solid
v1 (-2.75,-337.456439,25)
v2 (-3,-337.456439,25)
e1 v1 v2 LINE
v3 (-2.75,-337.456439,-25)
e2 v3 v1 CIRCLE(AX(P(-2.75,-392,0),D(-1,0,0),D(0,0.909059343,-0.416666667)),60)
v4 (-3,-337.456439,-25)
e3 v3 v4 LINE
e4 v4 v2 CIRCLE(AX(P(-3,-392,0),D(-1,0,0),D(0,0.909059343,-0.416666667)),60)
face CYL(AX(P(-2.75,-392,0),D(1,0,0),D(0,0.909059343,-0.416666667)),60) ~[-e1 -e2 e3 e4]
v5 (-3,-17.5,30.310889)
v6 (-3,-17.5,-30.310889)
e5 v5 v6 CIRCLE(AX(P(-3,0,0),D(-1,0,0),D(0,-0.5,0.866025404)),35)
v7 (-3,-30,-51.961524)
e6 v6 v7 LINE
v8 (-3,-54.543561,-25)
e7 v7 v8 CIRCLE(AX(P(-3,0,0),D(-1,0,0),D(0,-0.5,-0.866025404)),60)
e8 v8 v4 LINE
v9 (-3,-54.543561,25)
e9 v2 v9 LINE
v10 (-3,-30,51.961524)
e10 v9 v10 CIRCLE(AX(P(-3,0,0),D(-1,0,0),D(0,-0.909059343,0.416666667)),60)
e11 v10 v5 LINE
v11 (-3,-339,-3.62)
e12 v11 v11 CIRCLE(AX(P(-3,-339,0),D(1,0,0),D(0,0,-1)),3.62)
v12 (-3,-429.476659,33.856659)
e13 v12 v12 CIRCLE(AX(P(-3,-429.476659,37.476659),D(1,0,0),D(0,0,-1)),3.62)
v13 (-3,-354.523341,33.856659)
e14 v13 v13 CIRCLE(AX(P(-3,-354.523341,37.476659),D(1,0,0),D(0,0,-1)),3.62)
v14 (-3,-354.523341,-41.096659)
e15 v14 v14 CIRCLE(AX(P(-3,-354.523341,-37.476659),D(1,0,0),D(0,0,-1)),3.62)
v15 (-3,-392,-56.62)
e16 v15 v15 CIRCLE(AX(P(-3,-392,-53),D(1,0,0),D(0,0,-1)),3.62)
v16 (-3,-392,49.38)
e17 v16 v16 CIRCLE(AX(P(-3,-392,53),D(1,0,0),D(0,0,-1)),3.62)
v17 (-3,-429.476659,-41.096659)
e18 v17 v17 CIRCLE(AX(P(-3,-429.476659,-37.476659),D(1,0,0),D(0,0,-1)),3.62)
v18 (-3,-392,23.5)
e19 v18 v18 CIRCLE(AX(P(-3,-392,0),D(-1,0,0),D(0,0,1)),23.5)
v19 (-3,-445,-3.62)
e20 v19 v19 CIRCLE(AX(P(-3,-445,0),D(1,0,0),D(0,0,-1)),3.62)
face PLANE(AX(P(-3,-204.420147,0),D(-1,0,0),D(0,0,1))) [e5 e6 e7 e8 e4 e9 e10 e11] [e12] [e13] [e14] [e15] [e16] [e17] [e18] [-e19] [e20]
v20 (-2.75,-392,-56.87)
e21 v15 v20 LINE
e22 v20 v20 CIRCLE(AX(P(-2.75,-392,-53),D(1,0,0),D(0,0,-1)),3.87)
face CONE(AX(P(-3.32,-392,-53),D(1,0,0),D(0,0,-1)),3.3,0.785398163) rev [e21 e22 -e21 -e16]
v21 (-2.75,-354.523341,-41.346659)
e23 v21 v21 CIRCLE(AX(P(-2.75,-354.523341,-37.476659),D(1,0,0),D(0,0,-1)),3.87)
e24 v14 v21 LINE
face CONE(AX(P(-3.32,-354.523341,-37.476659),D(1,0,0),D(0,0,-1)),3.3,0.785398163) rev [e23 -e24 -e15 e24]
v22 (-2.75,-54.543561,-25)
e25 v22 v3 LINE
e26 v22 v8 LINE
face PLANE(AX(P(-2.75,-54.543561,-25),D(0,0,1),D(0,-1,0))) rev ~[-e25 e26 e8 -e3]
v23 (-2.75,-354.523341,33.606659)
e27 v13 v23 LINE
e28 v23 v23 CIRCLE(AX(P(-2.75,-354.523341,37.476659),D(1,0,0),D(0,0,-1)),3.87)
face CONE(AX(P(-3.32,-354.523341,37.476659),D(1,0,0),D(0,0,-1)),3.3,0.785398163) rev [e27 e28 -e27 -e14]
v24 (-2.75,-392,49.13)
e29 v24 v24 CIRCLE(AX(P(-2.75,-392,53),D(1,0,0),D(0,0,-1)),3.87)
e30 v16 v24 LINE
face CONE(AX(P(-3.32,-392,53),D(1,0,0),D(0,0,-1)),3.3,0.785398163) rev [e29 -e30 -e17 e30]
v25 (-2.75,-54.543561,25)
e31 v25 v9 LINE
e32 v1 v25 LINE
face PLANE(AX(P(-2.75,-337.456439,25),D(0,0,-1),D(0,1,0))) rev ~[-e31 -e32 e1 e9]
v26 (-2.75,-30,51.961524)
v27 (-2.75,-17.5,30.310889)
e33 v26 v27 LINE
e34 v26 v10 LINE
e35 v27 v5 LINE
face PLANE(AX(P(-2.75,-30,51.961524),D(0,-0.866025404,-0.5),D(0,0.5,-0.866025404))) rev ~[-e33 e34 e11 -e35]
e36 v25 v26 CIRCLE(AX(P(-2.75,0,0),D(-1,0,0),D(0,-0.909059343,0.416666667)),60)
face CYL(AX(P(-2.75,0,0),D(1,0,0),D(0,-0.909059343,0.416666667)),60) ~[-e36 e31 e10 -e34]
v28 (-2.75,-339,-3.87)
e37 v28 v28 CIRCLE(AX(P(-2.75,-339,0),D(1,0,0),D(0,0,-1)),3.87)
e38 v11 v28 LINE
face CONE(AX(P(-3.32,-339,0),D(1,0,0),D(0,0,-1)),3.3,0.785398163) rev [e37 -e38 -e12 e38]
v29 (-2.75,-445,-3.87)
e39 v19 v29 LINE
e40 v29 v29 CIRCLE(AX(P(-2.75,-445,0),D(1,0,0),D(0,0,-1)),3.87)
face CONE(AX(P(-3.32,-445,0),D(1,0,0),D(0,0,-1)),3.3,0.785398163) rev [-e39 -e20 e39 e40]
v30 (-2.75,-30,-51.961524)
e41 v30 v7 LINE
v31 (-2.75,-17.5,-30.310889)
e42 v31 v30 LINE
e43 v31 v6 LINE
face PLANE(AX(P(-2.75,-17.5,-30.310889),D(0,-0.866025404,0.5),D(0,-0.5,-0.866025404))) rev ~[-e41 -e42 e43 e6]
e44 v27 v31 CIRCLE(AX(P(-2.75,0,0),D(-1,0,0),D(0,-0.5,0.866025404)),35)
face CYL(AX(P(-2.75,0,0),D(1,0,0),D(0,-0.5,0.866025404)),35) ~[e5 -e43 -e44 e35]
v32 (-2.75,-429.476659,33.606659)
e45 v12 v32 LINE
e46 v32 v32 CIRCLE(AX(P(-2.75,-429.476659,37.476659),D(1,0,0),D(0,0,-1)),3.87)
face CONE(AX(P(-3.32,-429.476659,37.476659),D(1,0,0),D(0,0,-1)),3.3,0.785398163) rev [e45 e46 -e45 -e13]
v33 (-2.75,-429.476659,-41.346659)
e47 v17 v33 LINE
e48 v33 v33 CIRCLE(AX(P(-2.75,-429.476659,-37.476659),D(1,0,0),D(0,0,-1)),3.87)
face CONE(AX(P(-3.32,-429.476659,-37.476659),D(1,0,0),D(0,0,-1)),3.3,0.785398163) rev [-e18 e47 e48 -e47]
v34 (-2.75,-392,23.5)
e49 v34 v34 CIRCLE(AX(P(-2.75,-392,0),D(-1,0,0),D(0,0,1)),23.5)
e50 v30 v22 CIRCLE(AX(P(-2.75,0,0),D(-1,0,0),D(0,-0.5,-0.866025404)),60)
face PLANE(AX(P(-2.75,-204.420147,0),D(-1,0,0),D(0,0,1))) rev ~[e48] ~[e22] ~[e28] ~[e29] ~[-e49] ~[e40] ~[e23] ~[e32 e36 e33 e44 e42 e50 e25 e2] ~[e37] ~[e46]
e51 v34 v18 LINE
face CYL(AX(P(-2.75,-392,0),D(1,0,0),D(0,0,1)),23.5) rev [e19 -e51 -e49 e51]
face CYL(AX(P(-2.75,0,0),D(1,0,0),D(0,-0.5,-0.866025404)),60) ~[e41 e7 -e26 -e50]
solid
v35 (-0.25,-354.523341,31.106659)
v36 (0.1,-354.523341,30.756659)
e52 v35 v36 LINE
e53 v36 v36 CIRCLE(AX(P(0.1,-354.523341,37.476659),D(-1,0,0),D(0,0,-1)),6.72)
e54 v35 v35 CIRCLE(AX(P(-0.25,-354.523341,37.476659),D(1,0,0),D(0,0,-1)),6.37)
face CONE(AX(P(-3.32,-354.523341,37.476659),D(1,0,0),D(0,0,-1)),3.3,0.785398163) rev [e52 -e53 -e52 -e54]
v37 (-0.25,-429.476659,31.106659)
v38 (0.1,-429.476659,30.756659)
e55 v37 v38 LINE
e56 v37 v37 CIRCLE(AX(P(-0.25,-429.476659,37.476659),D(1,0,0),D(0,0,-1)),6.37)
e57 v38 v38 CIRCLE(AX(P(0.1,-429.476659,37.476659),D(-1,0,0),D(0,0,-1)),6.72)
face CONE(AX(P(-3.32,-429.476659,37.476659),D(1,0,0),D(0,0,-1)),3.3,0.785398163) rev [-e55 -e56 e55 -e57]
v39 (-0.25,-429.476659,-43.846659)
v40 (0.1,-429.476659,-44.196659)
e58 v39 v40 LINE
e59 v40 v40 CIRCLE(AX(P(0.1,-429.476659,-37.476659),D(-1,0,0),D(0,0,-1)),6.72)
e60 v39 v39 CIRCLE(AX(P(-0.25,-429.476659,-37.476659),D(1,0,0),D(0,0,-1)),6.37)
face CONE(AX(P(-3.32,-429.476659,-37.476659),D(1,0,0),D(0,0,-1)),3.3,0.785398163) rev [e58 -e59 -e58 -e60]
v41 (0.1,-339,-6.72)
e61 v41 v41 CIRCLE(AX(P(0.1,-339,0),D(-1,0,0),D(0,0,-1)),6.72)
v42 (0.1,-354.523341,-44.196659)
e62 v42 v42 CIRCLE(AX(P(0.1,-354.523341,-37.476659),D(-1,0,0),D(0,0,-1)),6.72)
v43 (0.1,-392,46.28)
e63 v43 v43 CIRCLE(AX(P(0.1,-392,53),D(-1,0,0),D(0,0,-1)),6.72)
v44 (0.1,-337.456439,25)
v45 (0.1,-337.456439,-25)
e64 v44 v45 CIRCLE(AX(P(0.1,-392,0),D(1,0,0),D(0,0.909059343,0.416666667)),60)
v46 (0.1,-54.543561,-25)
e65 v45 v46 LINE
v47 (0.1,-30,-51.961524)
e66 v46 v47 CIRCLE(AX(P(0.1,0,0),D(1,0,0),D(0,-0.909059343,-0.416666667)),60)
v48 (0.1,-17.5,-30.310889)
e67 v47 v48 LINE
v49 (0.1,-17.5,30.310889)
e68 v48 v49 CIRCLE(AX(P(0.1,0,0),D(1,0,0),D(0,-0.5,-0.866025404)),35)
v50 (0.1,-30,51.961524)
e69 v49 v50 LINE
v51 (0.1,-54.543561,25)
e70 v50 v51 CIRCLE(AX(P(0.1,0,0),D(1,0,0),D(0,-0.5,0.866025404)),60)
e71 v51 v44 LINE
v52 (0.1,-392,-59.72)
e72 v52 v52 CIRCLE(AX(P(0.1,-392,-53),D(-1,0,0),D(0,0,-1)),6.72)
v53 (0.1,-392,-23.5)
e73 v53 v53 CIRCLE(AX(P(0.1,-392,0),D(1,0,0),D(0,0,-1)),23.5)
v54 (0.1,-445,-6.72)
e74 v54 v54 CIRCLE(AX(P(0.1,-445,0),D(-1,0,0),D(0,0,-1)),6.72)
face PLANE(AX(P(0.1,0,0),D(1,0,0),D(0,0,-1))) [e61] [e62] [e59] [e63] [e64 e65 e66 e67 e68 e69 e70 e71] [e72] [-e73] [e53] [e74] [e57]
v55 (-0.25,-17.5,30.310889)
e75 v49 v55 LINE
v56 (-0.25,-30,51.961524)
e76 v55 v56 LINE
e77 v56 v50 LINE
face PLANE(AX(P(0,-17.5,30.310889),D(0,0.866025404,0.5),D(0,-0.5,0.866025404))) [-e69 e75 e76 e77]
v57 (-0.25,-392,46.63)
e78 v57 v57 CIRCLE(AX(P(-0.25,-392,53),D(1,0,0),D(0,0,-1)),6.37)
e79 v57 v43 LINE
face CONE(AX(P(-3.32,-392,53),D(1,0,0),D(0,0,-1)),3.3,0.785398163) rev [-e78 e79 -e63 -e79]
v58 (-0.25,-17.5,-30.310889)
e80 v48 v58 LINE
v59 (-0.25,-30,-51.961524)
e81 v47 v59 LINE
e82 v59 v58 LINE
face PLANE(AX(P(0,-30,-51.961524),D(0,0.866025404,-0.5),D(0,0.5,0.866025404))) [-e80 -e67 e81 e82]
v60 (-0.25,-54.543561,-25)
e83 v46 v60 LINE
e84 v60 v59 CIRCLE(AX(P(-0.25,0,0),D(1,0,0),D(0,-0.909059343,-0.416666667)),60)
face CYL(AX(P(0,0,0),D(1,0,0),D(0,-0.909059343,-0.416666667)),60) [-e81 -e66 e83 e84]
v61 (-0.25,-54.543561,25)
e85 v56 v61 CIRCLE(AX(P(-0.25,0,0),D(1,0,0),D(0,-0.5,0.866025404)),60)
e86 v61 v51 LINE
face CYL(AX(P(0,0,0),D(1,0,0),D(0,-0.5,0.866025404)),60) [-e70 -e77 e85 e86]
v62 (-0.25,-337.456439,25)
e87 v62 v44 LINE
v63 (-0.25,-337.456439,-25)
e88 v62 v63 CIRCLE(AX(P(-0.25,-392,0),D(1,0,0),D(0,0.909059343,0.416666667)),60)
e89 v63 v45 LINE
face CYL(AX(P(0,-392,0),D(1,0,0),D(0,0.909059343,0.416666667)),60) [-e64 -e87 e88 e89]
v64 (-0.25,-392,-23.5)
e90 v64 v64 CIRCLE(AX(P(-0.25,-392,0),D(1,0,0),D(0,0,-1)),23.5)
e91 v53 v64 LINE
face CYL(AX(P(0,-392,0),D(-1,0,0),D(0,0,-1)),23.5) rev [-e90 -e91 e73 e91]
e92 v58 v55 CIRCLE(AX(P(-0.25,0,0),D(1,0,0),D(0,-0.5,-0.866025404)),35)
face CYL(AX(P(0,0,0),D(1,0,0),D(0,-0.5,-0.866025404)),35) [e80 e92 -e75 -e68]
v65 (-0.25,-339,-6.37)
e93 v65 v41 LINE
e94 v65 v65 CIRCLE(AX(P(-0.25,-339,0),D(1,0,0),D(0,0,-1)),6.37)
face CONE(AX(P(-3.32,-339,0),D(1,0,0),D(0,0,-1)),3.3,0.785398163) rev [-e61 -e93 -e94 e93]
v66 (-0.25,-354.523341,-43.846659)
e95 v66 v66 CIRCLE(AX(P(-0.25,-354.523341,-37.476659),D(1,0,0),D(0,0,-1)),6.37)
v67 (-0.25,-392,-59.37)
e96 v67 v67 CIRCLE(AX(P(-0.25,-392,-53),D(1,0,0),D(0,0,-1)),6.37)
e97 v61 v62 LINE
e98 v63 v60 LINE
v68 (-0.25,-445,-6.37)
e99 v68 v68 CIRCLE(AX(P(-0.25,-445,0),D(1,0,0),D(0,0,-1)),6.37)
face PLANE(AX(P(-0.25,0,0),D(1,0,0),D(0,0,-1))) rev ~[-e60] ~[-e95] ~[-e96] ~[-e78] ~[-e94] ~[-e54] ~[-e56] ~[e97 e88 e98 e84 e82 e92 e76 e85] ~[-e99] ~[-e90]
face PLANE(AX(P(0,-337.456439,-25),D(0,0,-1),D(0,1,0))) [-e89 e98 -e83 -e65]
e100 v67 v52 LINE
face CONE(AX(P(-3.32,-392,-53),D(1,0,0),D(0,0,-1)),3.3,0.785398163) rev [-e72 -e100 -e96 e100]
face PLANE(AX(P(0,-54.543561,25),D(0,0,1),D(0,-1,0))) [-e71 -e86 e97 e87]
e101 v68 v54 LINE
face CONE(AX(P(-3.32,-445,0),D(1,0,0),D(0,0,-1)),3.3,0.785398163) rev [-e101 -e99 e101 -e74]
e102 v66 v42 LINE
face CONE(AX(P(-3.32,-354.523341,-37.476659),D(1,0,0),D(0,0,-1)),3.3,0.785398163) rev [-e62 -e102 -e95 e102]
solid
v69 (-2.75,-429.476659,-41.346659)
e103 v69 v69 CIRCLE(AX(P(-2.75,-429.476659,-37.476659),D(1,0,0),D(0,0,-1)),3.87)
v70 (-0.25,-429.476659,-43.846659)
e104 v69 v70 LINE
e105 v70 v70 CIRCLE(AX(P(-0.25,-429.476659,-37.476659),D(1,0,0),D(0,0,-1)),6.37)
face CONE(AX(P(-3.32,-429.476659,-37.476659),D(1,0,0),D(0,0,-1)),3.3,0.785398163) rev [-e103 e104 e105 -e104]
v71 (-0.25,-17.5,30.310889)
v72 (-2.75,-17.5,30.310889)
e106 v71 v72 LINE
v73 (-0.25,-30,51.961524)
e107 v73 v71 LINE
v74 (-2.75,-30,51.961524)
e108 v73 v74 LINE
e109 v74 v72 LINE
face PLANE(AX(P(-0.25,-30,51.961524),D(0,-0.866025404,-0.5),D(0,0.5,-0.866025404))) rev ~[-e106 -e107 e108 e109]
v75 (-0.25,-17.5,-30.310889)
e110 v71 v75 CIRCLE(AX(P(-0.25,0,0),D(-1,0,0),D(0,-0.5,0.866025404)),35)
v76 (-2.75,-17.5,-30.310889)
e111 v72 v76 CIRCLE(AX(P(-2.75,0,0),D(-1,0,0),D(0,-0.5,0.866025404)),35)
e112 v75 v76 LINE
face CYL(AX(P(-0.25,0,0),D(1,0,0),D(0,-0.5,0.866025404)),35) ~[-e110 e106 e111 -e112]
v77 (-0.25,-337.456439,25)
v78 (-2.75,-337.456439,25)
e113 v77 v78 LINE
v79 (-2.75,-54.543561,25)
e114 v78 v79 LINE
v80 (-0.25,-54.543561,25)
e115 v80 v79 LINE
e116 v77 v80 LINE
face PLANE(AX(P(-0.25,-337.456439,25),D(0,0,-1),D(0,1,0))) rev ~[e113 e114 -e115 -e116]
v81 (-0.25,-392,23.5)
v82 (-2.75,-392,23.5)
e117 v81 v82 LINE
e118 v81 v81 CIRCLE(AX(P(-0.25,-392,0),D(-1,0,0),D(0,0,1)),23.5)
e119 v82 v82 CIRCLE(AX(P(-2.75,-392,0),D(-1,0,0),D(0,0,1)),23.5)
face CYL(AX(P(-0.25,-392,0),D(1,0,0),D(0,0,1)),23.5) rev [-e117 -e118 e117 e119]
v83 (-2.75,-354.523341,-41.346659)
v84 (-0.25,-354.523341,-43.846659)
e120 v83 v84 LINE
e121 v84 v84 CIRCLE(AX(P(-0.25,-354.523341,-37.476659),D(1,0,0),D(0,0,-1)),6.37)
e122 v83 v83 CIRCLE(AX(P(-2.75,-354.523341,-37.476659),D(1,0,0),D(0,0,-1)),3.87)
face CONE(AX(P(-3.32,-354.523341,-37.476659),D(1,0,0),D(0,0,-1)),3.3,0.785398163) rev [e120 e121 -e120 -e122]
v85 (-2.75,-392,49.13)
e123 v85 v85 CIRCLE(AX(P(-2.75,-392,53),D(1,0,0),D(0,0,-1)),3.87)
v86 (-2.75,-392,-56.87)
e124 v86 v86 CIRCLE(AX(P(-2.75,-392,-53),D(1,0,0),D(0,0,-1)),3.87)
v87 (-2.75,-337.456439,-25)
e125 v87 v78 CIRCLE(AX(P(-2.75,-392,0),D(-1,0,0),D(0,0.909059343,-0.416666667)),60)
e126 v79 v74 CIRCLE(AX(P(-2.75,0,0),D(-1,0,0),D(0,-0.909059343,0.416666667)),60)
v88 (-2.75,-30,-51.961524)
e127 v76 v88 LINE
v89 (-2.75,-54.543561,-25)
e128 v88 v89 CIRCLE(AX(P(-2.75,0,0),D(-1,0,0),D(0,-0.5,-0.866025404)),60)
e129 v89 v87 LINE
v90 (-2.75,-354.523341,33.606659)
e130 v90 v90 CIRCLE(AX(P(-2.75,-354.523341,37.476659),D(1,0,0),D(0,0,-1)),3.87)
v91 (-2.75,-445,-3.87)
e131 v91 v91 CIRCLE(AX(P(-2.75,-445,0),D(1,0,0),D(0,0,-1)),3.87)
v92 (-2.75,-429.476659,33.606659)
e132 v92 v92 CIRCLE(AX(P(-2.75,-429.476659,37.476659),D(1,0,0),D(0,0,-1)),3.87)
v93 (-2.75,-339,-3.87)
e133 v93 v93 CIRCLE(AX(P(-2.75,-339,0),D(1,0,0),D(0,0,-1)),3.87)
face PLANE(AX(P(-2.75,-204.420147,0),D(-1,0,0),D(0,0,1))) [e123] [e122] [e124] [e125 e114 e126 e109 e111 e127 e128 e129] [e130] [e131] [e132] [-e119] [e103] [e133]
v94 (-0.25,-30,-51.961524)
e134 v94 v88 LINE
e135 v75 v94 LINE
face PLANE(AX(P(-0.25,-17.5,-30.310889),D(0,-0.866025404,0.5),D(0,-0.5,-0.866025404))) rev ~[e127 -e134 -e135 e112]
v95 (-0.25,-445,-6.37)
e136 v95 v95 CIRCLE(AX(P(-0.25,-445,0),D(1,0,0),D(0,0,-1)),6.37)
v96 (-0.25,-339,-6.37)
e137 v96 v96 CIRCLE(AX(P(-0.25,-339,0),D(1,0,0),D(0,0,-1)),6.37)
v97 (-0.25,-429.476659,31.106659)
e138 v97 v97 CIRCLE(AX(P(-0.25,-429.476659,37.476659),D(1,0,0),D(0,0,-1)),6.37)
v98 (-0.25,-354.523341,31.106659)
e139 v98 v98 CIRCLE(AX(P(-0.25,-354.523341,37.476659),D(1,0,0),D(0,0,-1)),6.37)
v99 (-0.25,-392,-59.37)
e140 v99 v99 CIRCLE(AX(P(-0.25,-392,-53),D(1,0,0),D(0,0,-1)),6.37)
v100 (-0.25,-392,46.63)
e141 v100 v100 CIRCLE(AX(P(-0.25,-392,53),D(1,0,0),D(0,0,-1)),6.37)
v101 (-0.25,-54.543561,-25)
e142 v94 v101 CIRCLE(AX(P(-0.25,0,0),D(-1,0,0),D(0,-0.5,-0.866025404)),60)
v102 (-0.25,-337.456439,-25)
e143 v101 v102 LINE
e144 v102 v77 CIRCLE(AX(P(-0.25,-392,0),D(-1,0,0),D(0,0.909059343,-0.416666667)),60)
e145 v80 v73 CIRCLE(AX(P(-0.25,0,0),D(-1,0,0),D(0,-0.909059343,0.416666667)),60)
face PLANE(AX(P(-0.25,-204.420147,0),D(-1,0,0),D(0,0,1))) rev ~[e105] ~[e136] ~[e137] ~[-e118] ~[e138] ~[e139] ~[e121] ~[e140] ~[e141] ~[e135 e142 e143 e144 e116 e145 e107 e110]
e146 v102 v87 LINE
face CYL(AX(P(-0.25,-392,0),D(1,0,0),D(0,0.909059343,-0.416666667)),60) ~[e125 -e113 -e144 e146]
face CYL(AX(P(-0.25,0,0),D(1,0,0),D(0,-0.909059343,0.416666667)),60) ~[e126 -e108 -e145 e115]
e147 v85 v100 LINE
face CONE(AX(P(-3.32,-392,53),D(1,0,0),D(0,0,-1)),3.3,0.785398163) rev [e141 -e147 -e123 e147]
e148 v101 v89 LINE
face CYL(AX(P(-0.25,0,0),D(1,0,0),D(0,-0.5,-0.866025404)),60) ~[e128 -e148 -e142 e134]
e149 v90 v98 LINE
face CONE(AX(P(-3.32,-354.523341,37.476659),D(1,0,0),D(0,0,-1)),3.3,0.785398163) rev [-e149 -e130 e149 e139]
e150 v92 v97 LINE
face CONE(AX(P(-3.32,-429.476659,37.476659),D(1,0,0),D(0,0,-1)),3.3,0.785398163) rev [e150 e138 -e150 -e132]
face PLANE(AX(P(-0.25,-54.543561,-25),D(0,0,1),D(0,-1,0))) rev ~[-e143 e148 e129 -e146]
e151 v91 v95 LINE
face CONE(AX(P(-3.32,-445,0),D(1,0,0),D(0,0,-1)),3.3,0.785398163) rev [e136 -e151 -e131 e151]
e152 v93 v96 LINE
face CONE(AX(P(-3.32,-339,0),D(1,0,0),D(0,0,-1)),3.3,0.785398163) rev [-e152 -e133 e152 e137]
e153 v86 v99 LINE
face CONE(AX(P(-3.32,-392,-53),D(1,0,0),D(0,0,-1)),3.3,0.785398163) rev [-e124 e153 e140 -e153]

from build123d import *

# Parameters (mm, degrees)
BOSS_EXTRUDE1_DEPTH                          = 0.1
BOSS_EXTRUDE1_DEPTH_BACK                     = 0.25
SKETCH1_R                                    = 23.5
SKETCH2_R                                    = 23.5
BOSS_EXTRUDE2_DEPTH                          = 2.5
SKETCH4_R                                    = 23.5
BOSS_EXTRUDE3_DEPTH                          = 0.25
CSK_FOR_M6_HEX_SOCKET_COUNTERSUNK_CA_2_COUNT = 2
CSK_FOR_M6_HEX_SOCKET_COUNTERSUNK_CA_2_PITCH = 40.564443831
CSK_FOR_M6_HEX_SOCKET_COUNTERSUNK_CA_3_COUNT = 2
CSK_FOR_M6_HEX_SOCKET_COUNTERSUNK_CA_3_PITCH = 74.953318806
CSK_FOR_M6_HEX_SOCKET_COUNTERSUNK_CA_4_COUNT = 2
CSK_FOR_M6_HEX_SOCKET_COUNTERSUNK_CA_4_PITCH = 97.931230446
CSK_FOR_M6_HEX_SOCKET_COUNTERSUNK_CA_5_COUNT = 2
CSK_FOR_M6_HEX_SOCKET_COUNTERSUNK_CA_5_PITCH = 106
CSK_FOR_M6_HEX_SOCKET_COUNTERSUNK_CA_6_COUNT = 2
CSK_FOR_M6_HEX_SOCKET_COUNTERSUNK_CA_6_PITCH = 97.931230446
CSK_FOR_M6_HEX_SOCKET_COUNTERSUNK_CA_7_COUNT = 2
CSK_FOR_M6_HEX_SOCKET_COUNTERSUNK_CA_7_PITCH = 74.953318806
CSK_FOR_M6_HEX_SOCKET_COUNTERSUNK_CA_8_COUNT = 2
CSK_FOR_M6_HEX_SOCKET_COUNTERSUNK_CA_8_PITCH = 40.564443831


with BuildPart() as part:
    # Sketch1 → Boss-Extrude1 (new, two sides: drawn at the far end of the back side and taken through both)
    with BuildSketch(Plane(origin=(0, 0, 0), x_dir=(0, 0, -1), z_dir=(1, 0, 0)).offset(-BOSS_EXTRUDE1_DEPTH_BACK)):
        with BuildLine():
            Line((51.961524227, -30), (30.310889132, -17.5))
            ThreePointArc((30.310889132, -17.5), (0, 35), (-30.310889132, -17.5))
            Line((-30.310889132, -17.5), (-51.961524227, -30))
            ThreePointArc((-51.961524227, -30), (-40.390167668, -44.369295191), (-25, -54.543560573))
            Line((-25, -54.543560573), (-25, -337.456439427))
            ThreePointArc((-25, -337.456439427), (0, -452), (25, -337.456439427))
            Line((25, -337.456439427), (25, -54.543560573))
            ThreePointArc((25, -54.543560573), (40.390167668, -44.369295191), (51.961524227, -30))
        make_face()
        with Locations((0, -392)):
            Circle(SKETCH1_R, mode=Mode.SUBTRACT)
    extrude(amount=BOSS_EXTRUDE1_DEPTH + BOSS_EXTRUDE1_DEPTH_BACK)


with BuildPart() as body_2:
    # Sketch2 → Boss-Extrude2 (new body)
    with BuildSketch(Plane.ZY.offset(0.25)):
        with BuildLine():
            ThreePointArc((30.310889132, -17.5), (0, 35), (-30.310889132, -17.5))
            Line((-30.310889132, -17.5), (-51.961524227, -30))
            ThreePointArc((-51.961524227, -30), (-40.390167668, -44.369295191), (-25, -54.543560573))
            Line((-25, -54.543560573), (-25, -337.456439427))
            ThreePointArc((-25, -337.456439427), (0, -452), (25, -337.456439427))
            Line((25, -337.456439427), (25, -54.543560573))
            ThreePointArc((25, -54.543560573), (40.390167668, -44.369295191), (51.961524227, -30))
            Line((51.961524227, -30), (30.310889132, -17.5))
        make_face()
        with Locations((0, -392)):
            Circle(SKETCH2_R, mode=Mode.SUBTRACT)
    extrude(amount=BOSS_EXTRUDE2_DEPTH)


with BuildPart() as body_3:
    # Sketch4 → Boss-Extrude3 (new body)
    with BuildSketch(Plane.ZY.offset(2.75)):
        with BuildLine():
            Line((51.961524227, -30), (30.310889132, -17.5))
            ThreePointArc((30.310889132, -17.5), (0, 35), (-30.310889132, -17.5))
            Line((-30.310889132, -17.5), (-51.961524227, -30))
            ThreePointArc((-51.961524227, -30), (-40.390167668, -44.369295191), (-25, -54.543560573))
            Line((-25, -54.543560573), (-25, -337.456439427))
            ThreePointArc((-25, -337.456439427), (0, -452), (25, -337.456439427))
            Line((25, -337.456439427), (25, -54.543560573))
            ThreePointArc((25, -54.543560573), (40.390167668, -44.369295191), (51.961524227, -30))
        make_face()
        with Locations((0, -392)):
            Circle(SKETCH4_R, mode=Mode.SUBTRACT)
    extrude(amount=BOSS_EXTRUDE3_DEPTH)


with BuildPart() as csk_for_m6_hex_socket_countersunk_cap_sc_tool:
    # Sketch6 → CSK for M6 Hex Socket Countersunk Cap Screw1 (revolve)
    with BuildSketch(Plane(origin=(0.1, -354.523340597, -37.476659403), x_dir=(0, 0, -1), z_dir=(0, 1, 0))):
        Polygon((0, 0), (0, 3.1), (3.3, 3.1), (3.3, 3.42), (6.72, 0), align=None)
    csk_for_m6_hex_socket_countersunk_cap_sc = revolve(axis=Axis((6.45, -354.523340597, -37.476659403), (-1, 0, 0)))


with BuildPart() as part_1:
    add(part.part)

    # CSK for M6 Hex Socket Countersunk Cap Screw1: cut by csk_for_m6_hex_socket_countersunk_cap_sc_tool
    add(csk_for_m6_hex_socket_countersunk_cap_sc_tool.part, mode=Mode.SUBTRACT)


with BuildPart() as body_2_1:
    add(body_2.part)

    # CSK for M6 Hex Socket Countersunk Cap Screw1: cut by csk_for_m6_hex_socket_countersunk_cap_sc_tool
    add(csk_for_m6_hex_socket_countersunk_cap_sc_tool.part, mode=Mode.SUBTRACT)


with BuildPart() as body_3_1:
    add(body_3.part)

    # CSK for M6 Hex Socket Countersunk Cap Screw1: cut by csk_for_m6_hex_socket_countersunk_cap_sc_tool
    add(csk_for_m6_hex_socket_countersunk_cap_sc_tool.part, mode=Mode.SUBTRACT)


with BuildPart() as csk_for_m6_hex_socket_countersunk_ca_2_tool:
    # CSK for M6 Hex Socket Countersunk Ca 2: CSK for M6 Hex Socket Countersunk Cap Screw1 ×2
    with Locations(*[Vector(0, -0.9238795325112888, -0.38268343236508495) * (i * CSK_FOR_M6_HEX_SOCKET_COUNTERSUNK_CA_2_PITCH) for i in range(1, CSK_FOR_M6_HEX_SOCKET_COUNTERSUNK_CA_2_COUNT)]):
        add(csk_for_m6_hex_socket_countersunk_cap_sc)


with BuildPart() as part_2:
    add(part_1.part)

    # CSK for M6 Hex Socket Countersunk Ca 2: cut by csk_for_m6_hex_socket_countersunk_ca_2_tool
    add(csk_for_m6_hex_socket_countersunk_ca_2_tool.part, mode=Mode.SUBTRACT)


with BuildPart() as body_2_2:
    add(body_2_1.part)

    # CSK for M6 Hex Socket Countersunk Ca 2: cut by csk_for_m6_hex_socket_countersunk_ca_2_tool
    add(csk_for_m6_hex_socket_countersunk_ca_2_tool.part, mode=Mode.SUBTRACT)


with BuildPart() as body_3_2:
    add(body_3_1.part)

    # CSK for M6 Hex Socket Countersunk Ca 2: cut by csk_for_m6_hex_socket_countersunk_ca_2_tool
    add(csk_for_m6_hex_socket_countersunk_ca_2_tool.part, mode=Mode.SUBTRACT)


with BuildPart() as csk_for_m6_hex_socket_countersunk_ca_3_tool:
    # CSK for M6 Hex Socket Countersunk Ca 3: CSK for M6 Hex Socket Countersunk Cap Screw1 ×2
    with Locations(*[(0, -i * CSK_FOR_M6_HEX_SOCKET_COUNTERSUNK_CA_3_PITCH, 0) for i in range(1, CSK_FOR_M6_HEX_SOCKET_COUNTERSUNK_CA_3_COUNT)]):
        add(csk_for_m6_hex_socket_countersunk_cap_sc)


with BuildPart() as part_3:
    add(part_2.part)

    # CSK for M6 Hex Socket Countersunk Ca 3: cut by csk_for_m6_hex_socket_countersunk_ca_3_tool
    add(csk_for_m6_hex_socket_countersunk_ca_3_tool.part, mode=Mode.SUBTRACT)


with BuildPart() as body_2_3:
    add(body_2_2.part)

    # CSK for M6 Hex Socket Countersunk Ca 3: cut by csk_for_m6_hex_socket_countersunk_ca_3_tool
    add(csk_for_m6_hex_socket_countersunk_ca_3_tool.part, mode=Mode.SUBTRACT)


with BuildPart() as body_3_3:
    add(body_3_2.part)

    # CSK for M6 Hex Socket Countersunk Ca 3: cut by csk_for_m6_hex_socket_countersunk_ca_3_tool
    add(csk_for_m6_hex_socket_countersunk_ca_3_tool.part, mode=Mode.SUBTRACT)


with BuildPart() as csk_for_m6_hex_socket_countersunk_ca_4_tool:
    # CSK for M6 Hex Socket Countersunk Ca 4: CSK for M6 Hex Socket Countersunk Cap Screw1 ×2
    with Locations(*[Vector(0, -0.9238795325112837, 0.38268343236509716) * (i * CSK_FOR_M6_HEX_SOCKET_COUNTERSUNK_CA_4_PITCH) for i in range(1, CSK_FOR_M6_HEX_SOCKET_COUNTERSUNK_CA_4_COUNT)]):
        add(csk_for_m6_hex_socket_countersunk_cap_sc)


with BuildPart() as part_4:
    add(part_3.part)

    # CSK for M6 Hex Socket Countersunk Ca 4: cut by csk_for_m6_hex_socket_countersunk_ca_4_tool
    add(csk_for_m6_hex_socket_countersunk_ca_4_tool.part, mode=Mode.SUBTRACT)


with BuildPart() as body_2_4:
    add(body_2_3.part)

    # CSK for M6 Hex Socket Countersunk Ca 4: cut by csk_for_m6_hex_socket_countersunk_ca_4_tool
    add(csk_for_m6_hex_socket_countersunk_ca_4_tool.part, mode=Mode.SUBTRACT)


with BuildPart() as body_3_4:
    add(body_3_3.part)

    # CSK for M6 Hex Socket Countersunk Ca 4: cut by csk_for_m6_hex_socket_countersunk_ca_4_tool
    add(csk_for_m6_hex_socket_countersunk_ca_4_tool.part, mode=Mode.SUBTRACT)


with BuildPart() as csk_for_m6_hex_socket_countersunk_ca_5_tool:
    # CSK for M6 Hex Socket Countersunk Ca 5: CSK for M6 Hex Socket Countersunk Cap Screw1 ×2
    with Locations(*[Vector(0, -0.7071067811865405, 0.7071067811865547) * (i * CSK_FOR_M6_HEX_SOCKET_COUNTERSUNK_CA_5_PITCH) for i in range(1, CSK_FOR_M6_HEX_SOCKET_COUNTERSUNK_CA_5_COUNT)]):
        add(csk_for_m6_hex_socket_countersunk_cap_sc)


with BuildPart() as part_5:
    add(part_4.part)

    # CSK for M6 Hex Socket Countersunk Ca 5: cut by csk_for_m6_hex_socket_countersunk_ca_5_tool
    add(csk_for_m6_hex_socket_countersunk_ca_5_tool.part, mode=Mode.SUBTRACT)


with BuildPart() as body_2_5:
    add(body_2_4.part)

    # CSK for M6 Hex Socket Countersunk Ca 5: cut by csk_for_m6_hex_socket_countersunk_ca_5_tool
    add(csk_for_m6_hex_socket_countersunk_ca_5_tool.part, mode=Mode.SUBTRACT)


with BuildPart() as body_3_5:
    add(body_3_4.part)

    # CSK for M6 Hex Socket Countersunk Ca 5: cut by csk_for_m6_hex_socket_countersunk_ca_5_tool
    add(csk_for_m6_hex_socket_countersunk_ca_5_tool.part, mode=Mode.SUBTRACT)


with BuildPart() as csk_for_m6_hex_socket_countersunk_ca_6_tool:
    # CSK for M6 Hex Socket Countersunk Ca 6: CSK for M6 Hex Socket Countersunk Cap Screw1 ×2
    with Locations(*[Vector(0, -0.3826834323650799, 0.9238795325112908) * (i * CSK_FOR_M6_HEX_SOCKET_COUNTERSUNK_CA_6_PITCH) for i in range(1, CSK_FOR_M6_HEX_SOCKET_COUNTERSUNK_CA_6_COUNT)]):
        add(csk_for_m6_hex_socket_countersunk_cap_sc)


with BuildPart() as part_6:
    add(part_5.part)

    # CSK for M6 Hex Socket Countersunk Ca 6: cut by csk_for_m6_hex_socket_countersunk_ca_6_tool
    add(csk_for_m6_hex_socket_countersunk_ca_6_tool.part, mode=Mode.SUBTRACT)


with BuildPart() as body_2_6:
    add(body_2_5.part)

    # CSK for M6 Hex Socket Countersunk Ca 6: cut by csk_for_m6_hex_socket_countersunk_ca_6_tool
    add(csk_for_m6_hex_socket_countersunk_ca_6_tool.part, mode=Mode.SUBTRACT)


with BuildPart() as body_3_6:
    add(body_3_5.part)

    # CSK for M6 Hex Socket Countersunk Ca 6: cut by csk_for_m6_hex_socket_countersunk_ca_6_tool
    add(csk_for_m6_hex_socket_countersunk_ca_6_tool.part, mode=Mode.SUBTRACT)


with BuildPart() as csk_for_m6_hex_socket_countersunk_ca_7_tool:
    # CSK for M6 Hex Socket Countersunk Ca 7: CSK for M6 Hex Socket Countersunk Cap Screw1 ×2
    with Locations(*[(0, 0, i * CSK_FOR_M6_HEX_SOCKET_COUNTERSUNK_CA_7_PITCH) for i in range(1, CSK_FOR_M6_HEX_SOCKET_COUNTERSUNK_CA_7_COUNT)]):
        add(csk_for_m6_hex_socket_countersunk_cap_sc)


with BuildPart() as part_7:
    add(part_6.part)

    # CSK for M6 Hex Socket Countersunk Ca 7: cut by csk_for_m6_hex_socket_countersunk_ca_7_tool
    add(csk_for_m6_hex_socket_countersunk_ca_7_tool.part, mode=Mode.SUBTRACT)


with BuildPart() as body_2_7:
    add(body_2_6.part)

    # CSK for M6 Hex Socket Countersunk Ca 7: cut by csk_for_m6_hex_socket_countersunk_ca_7_tool
    add(csk_for_m6_hex_socket_countersunk_ca_7_tool.part, mode=Mode.SUBTRACT)


with BuildPart() as body_3_7:
    add(body_3_6.part)

    # CSK for M6 Hex Socket Countersunk Ca 7: cut by csk_for_m6_hex_socket_countersunk_ca_7_tool
    add(csk_for_m6_hex_socket_countersunk_ca_7_tool.part, mode=Mode.SUBTRACT)


with BuildPart() as csk_for_m6_hex_socket_countersunk_ca_8_tool:
    # CSK for M6 Hex Socket Countersunk Ca 8: CSK for M6 Hex Socket Countersunk Cap Screw1 ×2
    with Locations(*[Vector(0, 0.38268343236510227, 0.9238795325112816) * (i * CSK_FOR_M6_HEX_SOCKET_COUNTERSUNK_CA_8_PITCH) for i in range(1, CSK_FOR_M6_HEX_SOCKET_COUNTERSUNK_CA_8_COUNT)]):
        add(csk_for_m6_hex_socket_countersunk_cap_sc)


with BuildPart() as part_8:
    add(part_7.part)

    # CSK for M6 Hex Socket Countersunk Ca 8: cut by csk_for_m6_hex_socket_countersunk_ca_8_tool
    add(csk_for_m6_hex_socket_countersunk_ca_8_tool.part, mode=Mode.SUBTRACT)


with BuildPart() as body_2_8:
    add(body_2_7.part)

    # CSK for M6 Hex Socket Countersunk Ca 8: cut by csk_for_m6_hex_socket_countersunk_ca_8_tool
    add(csk_for_m6_hex_socket_countersunk_ca_8_tool.part, mode=Mode.SUBTRACT)


with BuildPart() as body_3_8:
    add(body_3_7.part)

    # CSK for M6 Hex Socket Countersunk Ca 8: cut by csk_for_m6_hex_socket_countersunk_ca_8_tool
    add(csk_for_m6_hex_socket_countersunk_ca_8_tool.part, mode=Mode.SUBTRACT)


solid = Compound([part_8.part, body_2_8.part, body_3_8.part])
